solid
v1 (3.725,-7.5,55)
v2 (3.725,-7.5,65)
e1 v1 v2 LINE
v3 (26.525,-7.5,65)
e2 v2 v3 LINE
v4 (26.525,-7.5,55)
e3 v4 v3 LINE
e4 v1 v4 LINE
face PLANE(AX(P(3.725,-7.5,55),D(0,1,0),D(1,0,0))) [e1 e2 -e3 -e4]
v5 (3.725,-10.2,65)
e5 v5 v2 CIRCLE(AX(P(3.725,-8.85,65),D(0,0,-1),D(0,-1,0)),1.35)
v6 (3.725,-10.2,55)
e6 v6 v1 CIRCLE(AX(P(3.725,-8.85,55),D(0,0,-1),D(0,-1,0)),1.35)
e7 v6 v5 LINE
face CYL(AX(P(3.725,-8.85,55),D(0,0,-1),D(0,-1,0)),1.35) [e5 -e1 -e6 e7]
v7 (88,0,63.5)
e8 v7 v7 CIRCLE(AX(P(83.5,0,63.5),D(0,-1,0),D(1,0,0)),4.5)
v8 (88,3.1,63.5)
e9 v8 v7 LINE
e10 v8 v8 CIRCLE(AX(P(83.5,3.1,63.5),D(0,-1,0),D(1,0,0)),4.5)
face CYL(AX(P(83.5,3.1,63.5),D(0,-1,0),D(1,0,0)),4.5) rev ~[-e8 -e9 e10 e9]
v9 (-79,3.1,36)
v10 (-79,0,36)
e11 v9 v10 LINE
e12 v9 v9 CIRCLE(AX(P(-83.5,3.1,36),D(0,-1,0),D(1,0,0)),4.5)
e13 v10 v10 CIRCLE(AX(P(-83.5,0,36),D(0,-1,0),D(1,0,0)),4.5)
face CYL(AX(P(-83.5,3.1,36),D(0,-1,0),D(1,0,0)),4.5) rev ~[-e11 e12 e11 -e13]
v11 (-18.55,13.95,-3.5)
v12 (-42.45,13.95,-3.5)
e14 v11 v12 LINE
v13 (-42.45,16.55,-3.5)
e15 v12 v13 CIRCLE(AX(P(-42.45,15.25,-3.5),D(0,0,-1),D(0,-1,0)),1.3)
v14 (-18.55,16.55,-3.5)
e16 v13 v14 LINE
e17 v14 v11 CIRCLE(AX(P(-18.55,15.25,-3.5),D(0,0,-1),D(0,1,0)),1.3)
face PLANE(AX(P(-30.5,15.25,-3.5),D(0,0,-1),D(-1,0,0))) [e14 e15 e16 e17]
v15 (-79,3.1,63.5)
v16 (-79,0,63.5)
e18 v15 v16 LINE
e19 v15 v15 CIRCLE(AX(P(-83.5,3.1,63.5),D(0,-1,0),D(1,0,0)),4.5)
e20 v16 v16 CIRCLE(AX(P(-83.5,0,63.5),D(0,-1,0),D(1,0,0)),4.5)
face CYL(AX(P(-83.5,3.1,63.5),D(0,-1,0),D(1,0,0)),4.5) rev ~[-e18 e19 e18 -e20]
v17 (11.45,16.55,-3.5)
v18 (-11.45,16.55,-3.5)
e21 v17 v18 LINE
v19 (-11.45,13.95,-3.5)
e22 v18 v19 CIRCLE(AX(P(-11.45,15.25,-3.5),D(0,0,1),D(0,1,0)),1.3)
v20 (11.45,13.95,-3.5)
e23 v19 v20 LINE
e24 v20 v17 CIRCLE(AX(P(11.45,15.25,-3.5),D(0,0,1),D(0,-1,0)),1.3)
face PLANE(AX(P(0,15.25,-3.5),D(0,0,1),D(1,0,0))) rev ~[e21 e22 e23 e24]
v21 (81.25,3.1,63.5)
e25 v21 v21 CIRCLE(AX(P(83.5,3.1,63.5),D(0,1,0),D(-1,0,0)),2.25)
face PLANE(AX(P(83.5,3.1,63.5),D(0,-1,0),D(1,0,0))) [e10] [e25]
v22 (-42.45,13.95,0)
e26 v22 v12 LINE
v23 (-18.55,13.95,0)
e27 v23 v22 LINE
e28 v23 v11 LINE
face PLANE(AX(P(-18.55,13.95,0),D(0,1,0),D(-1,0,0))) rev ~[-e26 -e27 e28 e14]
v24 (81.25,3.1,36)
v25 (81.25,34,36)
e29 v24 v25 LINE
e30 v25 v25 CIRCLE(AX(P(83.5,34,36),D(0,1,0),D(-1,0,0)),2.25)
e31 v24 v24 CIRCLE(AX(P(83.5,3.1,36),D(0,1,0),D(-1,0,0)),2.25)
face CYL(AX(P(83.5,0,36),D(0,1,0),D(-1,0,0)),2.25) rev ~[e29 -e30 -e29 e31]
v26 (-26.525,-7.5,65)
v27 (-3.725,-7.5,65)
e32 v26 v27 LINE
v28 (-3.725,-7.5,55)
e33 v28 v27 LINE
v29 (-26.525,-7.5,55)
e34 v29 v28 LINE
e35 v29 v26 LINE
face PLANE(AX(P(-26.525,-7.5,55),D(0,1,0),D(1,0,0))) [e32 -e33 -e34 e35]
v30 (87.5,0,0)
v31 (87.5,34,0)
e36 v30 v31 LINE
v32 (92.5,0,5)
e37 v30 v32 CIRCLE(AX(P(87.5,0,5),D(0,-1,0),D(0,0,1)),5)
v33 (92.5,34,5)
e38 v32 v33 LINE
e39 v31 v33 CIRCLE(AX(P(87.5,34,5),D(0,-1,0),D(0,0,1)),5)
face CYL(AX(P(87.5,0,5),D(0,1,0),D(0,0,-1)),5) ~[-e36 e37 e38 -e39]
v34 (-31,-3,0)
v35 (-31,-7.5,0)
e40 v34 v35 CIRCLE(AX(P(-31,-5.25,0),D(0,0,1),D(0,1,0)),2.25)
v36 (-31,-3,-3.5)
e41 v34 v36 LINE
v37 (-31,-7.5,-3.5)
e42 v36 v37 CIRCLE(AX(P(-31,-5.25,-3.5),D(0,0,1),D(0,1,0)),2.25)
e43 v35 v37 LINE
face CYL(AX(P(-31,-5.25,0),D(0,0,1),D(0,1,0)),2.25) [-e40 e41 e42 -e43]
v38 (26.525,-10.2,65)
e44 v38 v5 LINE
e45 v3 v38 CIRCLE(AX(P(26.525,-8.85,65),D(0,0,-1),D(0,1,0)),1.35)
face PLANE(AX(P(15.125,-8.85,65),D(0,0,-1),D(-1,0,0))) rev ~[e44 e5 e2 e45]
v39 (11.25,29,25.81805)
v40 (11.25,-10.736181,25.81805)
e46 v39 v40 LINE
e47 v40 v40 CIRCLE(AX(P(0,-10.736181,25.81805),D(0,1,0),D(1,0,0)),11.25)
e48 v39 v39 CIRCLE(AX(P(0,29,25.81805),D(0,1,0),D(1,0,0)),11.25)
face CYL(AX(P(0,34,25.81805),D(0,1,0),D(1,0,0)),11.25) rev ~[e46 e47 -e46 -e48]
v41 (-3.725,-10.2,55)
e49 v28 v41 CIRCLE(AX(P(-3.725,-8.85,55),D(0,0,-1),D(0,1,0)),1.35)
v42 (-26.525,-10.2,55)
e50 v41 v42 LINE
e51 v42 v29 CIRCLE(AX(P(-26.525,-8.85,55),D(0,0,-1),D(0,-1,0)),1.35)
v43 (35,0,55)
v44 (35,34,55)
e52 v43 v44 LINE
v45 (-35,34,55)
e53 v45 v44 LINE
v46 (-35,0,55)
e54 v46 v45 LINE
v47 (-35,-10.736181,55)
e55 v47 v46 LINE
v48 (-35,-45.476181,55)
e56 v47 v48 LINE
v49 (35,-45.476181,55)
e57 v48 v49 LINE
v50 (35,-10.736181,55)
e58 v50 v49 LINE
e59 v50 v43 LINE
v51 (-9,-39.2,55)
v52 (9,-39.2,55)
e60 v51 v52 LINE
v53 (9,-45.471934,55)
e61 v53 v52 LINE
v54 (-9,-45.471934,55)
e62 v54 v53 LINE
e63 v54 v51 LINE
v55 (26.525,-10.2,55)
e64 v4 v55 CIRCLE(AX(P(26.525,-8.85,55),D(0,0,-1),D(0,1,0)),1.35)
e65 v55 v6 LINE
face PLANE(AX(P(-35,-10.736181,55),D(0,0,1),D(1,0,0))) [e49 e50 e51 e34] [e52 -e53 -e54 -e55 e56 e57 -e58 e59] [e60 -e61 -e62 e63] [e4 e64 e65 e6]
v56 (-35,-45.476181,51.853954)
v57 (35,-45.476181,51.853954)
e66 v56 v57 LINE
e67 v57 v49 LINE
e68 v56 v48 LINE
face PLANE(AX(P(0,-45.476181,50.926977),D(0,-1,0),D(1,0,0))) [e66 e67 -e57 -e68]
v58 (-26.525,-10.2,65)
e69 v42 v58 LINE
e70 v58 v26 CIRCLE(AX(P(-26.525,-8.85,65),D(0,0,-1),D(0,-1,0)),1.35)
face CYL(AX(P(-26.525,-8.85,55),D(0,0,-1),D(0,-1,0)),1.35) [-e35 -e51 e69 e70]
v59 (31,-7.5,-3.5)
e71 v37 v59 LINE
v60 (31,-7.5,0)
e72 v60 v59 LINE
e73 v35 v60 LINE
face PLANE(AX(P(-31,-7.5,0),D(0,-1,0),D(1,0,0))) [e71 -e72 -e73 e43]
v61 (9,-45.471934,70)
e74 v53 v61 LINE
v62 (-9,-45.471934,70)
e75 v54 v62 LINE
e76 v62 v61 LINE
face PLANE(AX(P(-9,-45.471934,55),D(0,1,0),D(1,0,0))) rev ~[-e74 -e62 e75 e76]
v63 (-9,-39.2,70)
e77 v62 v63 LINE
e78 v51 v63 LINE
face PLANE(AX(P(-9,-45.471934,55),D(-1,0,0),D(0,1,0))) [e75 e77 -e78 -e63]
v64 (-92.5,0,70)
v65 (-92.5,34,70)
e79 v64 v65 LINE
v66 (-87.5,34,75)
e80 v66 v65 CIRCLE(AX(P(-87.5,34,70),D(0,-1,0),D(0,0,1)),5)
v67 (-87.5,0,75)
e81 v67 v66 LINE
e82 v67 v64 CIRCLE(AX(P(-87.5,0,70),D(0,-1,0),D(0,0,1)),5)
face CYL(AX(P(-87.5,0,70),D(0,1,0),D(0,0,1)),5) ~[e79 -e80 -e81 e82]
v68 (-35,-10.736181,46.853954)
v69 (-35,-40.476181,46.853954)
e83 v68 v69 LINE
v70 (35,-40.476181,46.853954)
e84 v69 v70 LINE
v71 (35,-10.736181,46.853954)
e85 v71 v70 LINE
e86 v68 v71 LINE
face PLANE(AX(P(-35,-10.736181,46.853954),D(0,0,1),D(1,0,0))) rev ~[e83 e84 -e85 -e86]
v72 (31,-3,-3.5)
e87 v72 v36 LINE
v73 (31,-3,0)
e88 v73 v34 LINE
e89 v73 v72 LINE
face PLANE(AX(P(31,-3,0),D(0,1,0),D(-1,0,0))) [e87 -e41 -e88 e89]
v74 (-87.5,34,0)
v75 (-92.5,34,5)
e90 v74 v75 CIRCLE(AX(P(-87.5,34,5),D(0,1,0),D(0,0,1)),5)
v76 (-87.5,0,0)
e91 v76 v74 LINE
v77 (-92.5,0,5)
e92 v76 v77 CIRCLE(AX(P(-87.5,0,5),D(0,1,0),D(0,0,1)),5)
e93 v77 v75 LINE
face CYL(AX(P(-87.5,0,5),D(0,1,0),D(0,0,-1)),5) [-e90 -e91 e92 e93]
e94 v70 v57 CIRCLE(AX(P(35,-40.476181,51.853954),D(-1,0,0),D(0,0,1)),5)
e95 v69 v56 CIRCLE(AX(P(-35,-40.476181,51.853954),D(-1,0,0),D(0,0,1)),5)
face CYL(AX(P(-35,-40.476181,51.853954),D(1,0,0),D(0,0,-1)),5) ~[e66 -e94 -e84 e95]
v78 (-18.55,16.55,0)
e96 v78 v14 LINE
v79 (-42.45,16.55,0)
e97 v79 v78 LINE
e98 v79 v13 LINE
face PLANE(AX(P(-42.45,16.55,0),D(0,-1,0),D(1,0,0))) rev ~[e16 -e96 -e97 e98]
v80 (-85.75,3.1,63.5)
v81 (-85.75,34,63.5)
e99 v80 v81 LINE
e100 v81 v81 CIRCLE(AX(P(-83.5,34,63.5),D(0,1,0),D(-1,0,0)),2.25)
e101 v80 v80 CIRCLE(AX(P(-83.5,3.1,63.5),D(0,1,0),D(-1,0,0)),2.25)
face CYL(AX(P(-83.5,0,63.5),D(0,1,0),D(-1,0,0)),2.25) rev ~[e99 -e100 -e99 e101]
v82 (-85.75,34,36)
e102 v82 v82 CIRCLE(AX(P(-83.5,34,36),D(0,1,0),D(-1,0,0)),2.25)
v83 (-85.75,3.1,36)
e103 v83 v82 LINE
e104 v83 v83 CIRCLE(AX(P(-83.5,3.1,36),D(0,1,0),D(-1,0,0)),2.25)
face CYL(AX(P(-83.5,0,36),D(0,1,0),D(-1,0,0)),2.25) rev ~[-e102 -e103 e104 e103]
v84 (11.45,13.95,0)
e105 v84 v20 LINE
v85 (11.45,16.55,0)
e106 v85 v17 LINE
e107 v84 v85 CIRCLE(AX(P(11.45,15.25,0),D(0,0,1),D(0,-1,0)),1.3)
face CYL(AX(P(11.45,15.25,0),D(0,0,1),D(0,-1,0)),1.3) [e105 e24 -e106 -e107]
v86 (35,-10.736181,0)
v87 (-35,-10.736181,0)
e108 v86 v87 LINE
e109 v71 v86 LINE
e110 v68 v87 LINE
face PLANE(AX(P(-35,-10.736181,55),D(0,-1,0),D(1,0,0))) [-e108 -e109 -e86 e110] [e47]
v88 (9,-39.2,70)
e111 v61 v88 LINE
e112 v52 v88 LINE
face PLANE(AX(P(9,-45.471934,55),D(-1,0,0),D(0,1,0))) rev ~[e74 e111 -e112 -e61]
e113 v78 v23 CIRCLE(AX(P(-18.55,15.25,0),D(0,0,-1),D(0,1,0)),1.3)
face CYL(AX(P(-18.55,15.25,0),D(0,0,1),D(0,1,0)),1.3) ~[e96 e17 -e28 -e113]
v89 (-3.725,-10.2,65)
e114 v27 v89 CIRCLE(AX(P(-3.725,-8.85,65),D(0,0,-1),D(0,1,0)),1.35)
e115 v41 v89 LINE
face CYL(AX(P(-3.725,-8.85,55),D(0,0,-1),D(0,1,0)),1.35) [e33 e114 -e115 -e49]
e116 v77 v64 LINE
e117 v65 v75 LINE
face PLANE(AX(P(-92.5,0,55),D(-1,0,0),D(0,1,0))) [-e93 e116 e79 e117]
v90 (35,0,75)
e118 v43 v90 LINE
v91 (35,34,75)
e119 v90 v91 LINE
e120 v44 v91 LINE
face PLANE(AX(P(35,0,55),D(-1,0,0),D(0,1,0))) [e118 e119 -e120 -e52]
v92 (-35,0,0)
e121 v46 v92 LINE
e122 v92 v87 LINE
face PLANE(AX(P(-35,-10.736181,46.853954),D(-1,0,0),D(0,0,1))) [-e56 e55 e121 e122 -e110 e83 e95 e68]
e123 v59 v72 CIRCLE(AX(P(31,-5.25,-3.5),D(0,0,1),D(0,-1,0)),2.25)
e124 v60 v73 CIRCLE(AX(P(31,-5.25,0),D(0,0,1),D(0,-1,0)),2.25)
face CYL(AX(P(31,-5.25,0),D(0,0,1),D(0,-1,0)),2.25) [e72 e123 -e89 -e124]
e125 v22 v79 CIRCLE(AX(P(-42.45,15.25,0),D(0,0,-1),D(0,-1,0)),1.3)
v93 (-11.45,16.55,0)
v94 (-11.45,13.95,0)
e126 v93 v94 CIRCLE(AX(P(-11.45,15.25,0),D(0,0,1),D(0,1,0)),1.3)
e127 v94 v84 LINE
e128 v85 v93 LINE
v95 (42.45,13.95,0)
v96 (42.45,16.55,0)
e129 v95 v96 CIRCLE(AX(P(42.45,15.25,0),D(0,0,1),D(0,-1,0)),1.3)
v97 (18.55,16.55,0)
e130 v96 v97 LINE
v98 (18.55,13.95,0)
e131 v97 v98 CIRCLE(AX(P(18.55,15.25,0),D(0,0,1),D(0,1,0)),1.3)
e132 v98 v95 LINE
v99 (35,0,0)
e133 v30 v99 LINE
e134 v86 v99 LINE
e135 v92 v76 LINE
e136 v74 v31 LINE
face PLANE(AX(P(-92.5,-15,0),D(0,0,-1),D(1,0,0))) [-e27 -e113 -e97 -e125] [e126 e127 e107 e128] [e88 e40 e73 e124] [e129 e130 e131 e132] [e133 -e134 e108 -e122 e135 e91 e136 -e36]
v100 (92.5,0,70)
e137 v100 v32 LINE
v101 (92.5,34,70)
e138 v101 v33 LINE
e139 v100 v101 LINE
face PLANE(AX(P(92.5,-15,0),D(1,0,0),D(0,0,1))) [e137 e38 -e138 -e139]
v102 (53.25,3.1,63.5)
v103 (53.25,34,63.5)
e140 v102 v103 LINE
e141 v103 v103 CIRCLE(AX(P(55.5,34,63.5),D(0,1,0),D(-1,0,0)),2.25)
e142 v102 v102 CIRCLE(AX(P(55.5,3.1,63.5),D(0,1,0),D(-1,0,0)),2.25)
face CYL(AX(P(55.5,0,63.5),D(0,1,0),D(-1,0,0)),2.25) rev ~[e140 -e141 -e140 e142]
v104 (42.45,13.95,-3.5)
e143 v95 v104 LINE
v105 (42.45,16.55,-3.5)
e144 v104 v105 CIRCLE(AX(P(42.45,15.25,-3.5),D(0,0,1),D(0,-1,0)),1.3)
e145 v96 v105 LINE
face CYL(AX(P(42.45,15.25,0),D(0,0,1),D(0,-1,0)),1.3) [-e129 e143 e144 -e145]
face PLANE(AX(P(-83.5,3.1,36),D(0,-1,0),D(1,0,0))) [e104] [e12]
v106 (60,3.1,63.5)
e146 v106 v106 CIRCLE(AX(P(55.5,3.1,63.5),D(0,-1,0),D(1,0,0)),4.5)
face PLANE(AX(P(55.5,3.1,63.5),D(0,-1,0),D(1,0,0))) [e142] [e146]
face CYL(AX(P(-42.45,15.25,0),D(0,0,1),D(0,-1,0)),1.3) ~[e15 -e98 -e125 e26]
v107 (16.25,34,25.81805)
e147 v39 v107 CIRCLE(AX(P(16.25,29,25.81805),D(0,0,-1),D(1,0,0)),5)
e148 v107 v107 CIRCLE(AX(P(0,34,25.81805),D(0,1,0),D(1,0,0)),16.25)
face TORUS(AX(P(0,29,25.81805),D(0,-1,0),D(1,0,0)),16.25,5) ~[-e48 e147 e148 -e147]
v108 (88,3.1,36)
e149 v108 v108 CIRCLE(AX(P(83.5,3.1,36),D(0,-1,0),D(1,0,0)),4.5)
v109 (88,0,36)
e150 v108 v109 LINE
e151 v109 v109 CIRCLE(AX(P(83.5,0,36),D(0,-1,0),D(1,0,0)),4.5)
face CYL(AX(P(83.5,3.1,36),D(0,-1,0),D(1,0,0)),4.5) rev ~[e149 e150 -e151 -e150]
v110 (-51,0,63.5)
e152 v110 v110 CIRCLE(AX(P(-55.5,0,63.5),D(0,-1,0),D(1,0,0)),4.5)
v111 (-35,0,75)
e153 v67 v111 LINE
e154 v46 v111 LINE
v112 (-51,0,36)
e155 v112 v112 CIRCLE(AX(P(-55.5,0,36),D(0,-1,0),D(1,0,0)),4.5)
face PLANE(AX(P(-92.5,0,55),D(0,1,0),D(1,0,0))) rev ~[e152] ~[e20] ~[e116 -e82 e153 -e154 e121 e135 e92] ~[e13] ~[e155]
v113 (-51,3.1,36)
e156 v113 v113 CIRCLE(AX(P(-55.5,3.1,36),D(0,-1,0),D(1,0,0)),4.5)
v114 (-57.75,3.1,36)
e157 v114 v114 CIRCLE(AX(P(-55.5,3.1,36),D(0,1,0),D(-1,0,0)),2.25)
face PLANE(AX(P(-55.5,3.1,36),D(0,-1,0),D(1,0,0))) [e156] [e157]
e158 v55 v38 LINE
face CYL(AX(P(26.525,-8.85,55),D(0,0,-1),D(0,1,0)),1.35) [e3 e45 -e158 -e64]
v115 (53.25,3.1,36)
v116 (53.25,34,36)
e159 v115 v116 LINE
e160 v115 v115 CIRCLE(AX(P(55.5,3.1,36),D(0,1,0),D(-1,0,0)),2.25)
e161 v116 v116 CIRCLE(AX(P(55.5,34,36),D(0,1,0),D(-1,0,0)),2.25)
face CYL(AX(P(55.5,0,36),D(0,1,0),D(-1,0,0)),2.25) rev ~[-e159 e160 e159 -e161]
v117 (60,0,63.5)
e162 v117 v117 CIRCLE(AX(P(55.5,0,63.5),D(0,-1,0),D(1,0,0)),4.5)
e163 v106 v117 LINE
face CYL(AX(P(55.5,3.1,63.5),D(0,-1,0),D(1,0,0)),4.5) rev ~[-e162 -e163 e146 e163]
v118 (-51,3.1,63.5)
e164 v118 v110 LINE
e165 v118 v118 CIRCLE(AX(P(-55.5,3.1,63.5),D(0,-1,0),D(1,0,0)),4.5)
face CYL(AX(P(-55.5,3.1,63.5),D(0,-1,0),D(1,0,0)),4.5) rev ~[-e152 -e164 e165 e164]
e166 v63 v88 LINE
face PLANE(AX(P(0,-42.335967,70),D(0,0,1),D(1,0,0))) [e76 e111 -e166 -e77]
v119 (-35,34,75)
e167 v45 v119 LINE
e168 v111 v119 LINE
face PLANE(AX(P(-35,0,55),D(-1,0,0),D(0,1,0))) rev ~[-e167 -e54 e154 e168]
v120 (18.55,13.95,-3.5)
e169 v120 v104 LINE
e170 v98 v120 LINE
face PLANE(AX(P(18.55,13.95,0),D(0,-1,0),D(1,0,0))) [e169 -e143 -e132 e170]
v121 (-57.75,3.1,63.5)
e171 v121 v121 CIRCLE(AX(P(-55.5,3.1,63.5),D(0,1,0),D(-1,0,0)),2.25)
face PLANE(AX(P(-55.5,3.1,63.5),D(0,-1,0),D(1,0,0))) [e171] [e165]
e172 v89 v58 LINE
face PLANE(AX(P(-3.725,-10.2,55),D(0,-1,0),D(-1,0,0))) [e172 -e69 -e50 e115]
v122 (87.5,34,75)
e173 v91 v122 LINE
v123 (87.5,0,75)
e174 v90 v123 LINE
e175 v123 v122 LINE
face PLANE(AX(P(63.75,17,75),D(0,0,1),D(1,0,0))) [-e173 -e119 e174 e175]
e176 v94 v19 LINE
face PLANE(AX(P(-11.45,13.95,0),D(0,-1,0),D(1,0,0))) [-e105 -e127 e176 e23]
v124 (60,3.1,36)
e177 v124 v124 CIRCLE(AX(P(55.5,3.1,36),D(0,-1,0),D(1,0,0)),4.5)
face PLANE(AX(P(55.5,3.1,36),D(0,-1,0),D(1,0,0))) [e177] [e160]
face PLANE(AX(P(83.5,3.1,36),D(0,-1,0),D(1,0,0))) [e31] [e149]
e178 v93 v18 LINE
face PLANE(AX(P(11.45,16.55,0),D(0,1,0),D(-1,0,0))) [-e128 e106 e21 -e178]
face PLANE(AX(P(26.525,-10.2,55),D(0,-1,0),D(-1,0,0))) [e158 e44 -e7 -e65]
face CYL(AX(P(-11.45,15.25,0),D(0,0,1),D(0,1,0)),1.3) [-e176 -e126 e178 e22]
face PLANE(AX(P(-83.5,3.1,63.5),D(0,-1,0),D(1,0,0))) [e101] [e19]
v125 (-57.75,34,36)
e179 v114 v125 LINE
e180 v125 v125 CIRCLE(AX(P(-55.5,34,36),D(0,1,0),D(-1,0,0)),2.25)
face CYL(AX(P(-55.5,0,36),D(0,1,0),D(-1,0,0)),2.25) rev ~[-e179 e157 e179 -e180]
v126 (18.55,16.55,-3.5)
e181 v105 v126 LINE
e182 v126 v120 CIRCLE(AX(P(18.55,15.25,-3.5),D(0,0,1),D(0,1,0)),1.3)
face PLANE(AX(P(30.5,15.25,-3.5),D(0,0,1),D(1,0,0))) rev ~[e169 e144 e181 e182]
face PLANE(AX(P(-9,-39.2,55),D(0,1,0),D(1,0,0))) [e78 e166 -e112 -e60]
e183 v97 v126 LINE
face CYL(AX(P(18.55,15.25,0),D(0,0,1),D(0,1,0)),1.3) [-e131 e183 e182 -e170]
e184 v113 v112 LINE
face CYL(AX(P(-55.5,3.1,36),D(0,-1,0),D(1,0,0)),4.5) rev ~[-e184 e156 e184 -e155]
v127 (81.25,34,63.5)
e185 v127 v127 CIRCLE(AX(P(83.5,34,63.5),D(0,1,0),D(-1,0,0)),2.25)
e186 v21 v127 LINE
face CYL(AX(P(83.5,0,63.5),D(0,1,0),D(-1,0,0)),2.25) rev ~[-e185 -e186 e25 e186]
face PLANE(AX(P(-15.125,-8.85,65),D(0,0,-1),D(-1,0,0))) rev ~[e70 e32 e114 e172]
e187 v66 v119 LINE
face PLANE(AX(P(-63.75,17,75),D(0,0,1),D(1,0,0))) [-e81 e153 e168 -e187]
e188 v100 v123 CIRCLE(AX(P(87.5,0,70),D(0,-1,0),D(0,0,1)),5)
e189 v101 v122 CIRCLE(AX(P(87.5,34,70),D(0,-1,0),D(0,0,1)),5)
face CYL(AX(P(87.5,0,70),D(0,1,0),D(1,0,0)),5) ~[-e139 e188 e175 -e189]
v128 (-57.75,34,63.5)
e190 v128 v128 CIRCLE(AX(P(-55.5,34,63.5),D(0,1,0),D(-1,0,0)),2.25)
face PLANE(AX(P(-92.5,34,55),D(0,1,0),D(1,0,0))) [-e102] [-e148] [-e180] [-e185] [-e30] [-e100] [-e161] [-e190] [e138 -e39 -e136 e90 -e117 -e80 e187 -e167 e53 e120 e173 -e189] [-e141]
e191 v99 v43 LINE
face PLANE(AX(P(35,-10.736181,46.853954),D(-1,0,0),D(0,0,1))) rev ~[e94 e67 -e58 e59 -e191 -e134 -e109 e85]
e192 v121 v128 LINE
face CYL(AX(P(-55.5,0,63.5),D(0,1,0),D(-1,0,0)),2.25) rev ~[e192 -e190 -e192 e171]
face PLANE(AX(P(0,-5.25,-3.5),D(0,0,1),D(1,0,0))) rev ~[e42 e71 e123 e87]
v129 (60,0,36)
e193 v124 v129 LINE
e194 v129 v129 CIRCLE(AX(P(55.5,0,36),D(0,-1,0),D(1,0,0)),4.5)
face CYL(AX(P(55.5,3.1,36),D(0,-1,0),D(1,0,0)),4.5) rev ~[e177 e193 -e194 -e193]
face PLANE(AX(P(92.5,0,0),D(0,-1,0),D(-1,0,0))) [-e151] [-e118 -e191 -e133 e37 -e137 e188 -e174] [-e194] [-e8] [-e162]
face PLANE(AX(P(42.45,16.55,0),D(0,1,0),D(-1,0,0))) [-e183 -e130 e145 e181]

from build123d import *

# Parameters (mm, degrees)
SKETCH1_W                                        = 185
SKETCH1_H                                        = 55
BOSS_EXTRUDE1_DEPTH                              = 49
BOSS_EXTRUDE2_DEPTH                              = 10
SKETCH4_W                                        = 57.5
SKETCH4_H                                        = 15
CUT_EXTRUDE2_DEPTH                               = 66
SKETCH5_W                                        = 57.5
SKETCH5_H                                        = 15
CUT_EXTRUDE3_DEPTH                               = 56
BOSS_EXTRUDE3_DEPTH                              = 10
BOSS_EXTRUDE4_DEPTH                              = 3.5
BOSS_EXTRUDE7_DEPTH                              = 3.5
BOSS_EXTRUDE8_DEPTH                              = 3.5
SKETCH14_W                                       = 70
SKETCH14_H                                       = 4.263818571
CUT_EXTRUDE5_DEPTH                               = 59.5
SKETCH15_W                                       = 57.5
SKETCH15_H                                       = 34
BOSS_EXTRUDE9_DEPTH                              = 20
CBORE_FOR_M4_PAN_HEAD_MACHINE_SCREW1_D           = 4.5
CBORE_FOR_M4_PAN_HEAD_MACHINE_SCREW1_CBORE_D     = 9
CBORE_FOR_M4_PAN_HEAD_MACHINE_SCREW1_CBORE_DEPTH = 3.1
SKETCH19_W                                       = 70
SKETCH19_H                                       = 8.146045787
BOSS_EXTRUDE10_DEPTH                             = 34.74
SKETCH20_W                                       = 18
SKETCH20_H                                       = 6.271934352
BOSS_EXTRUDE11_DEPTH                             = 15
FILLET1_R                                        = 5
SKETCH21_R                                       = 11.25
CUT_EXTRUDE6_DEPTH                               = 80.476181429
FILLET2_R                                        = 5


with BuildPart() as part:
    # Sketch1 → Boss-Extrude1 (new body)
    with BuildSketch(Plane.XZ.offset(15)):
        with Locations((0, 27.5)):
            Rectangle(SKETCH1_W, SKETCH1_H)
    extrude(amount=-BOSS_EXTRUDE1_DEPTH)

    # Sketch2 → Boss-Extrude2 (add)
    with BuildSketch(Plane.XY.offset(55)):
        with BuildLine():
            Line((26.525, -10.2), (3.725, -10.2))
            ThreePointArc((3.725, -10.2), (2.375, -8.85), (3.725, -7.5))
            Line((3.725, -7.5), (26.525, -7.5))
            ThreePointArc((26.525, -7.5), (27.875, -8.85), (26.525, -10.2))
        make_face()
    extrude(amount=BOSS_EXTRUDE2_DEPTH)

    # Sketch4 → Cut-Extrude2 (cut, through all)
    with BuildSketch(Plane(origin=(0, 0, 0), x_dir=(-1, 0, 0), z_dir=(0, 0, -1))):
        with Locations((-63.75, -7.5)):
            Rectangle(SKETCH4_W, SKETCH4_H)
    extrude(amount=-CUT_EXTRUDE2_DEPTH, mode=Mode.SUBTRACT)

    # Sketch5 → Cut-Extrude3 (cut, through all)
    with BuildSketch(Plane.XY.offset(55)):
        with Locations((-63.75, -7.5)):
            Rectangle(SKETCH5_W, SKETCH5_H)
    extrude(amount=-CUT_EXTRUDE3_DEPTH, mode=Mode.SUBTRACT)

    # Sketch6 → Boss-Extrude3 (add)
    with BuildSketch(Plane.XY.offset(55)):
        with BuildLine():
            Line((-26.525, -7.5), (-3.725, -7.5))
            ThreePointArc((-3.725, -7.5), (-2.375, -8.85), (-3.725, -10.2))
            Line((-3.725, -10.2), (-26.525, -10.2))
            ThreePointArc((-26.525, -10.2), (-27.875, -8.85), (-26.525, -7.5))
        make_face()
    extrude(amount=BOSS_EXTRUDE3_DEPTH)

    # Sketch8 → Boss-Extrude4 (add)
    with BuildSketch(Plane(origin=(0, 0, 0), x_dir=(-1, 0, 0), z_dir=(0, 0, -1))):
        with BuildLine():
            Line((-11.45, 16.55), (11.45, 16.55))
            ThreePointArc((11.45, 16.55), (12.75, 15.25), (11.45, 13.95))
            Line((11.45, 13.95), (-11.45, 13.95))
            ThreePointArc((-11.45, 13.95), (-12.75, 15.25), (-11.45, 16.55))
        make_face()
    extrude(amount=BOSS_EXTRUDE4_DEPTH)

    # Sketch11 → Boss-Extrude7 (add)
    with BuildSketch(Plane(origin=(0, 0, 0), x_dir=(-1, 0, 0), z_dir=(0, 0, -1))):
        with BuildLine():
            Line((-31, -3), (31, -3))
            ThreePointArc((31, -3), (33.25, -5.25), (31, -7.5))
            Line((31, -7.5), (-31, -7.5))
            ThreePointArc((-31, -7.5), (-33.25, -5.25), (-31, -3))
        make_face()
    extrude(amount=BOSS_EXTRUDE7_DEPTH)

    # Sketch10 → Boss-Extrude8 (add)
    with BuildSketch(Plane(origin=(0, 0, 0), x_dir=(-1, 0, 0), z_dir=(0, 0, -1))):
        with BuildLine():
            Line((-18.55, 13.95), (-42.45, 13.95))
            ThreePointArc((-42.45, 13.95), (-43.75, 15.25), (-42.45, 16.55))
            Line((-42.45, 16.55), (-18.55, 16.55))
            ThreePointArc((-18.55, 16.55), (-17.25, 15.25), (-18.55, 13.95))
        make_face()
        with BuildLine():
            Line((42.45, 16.55), (18.55, 16.55))
            ThreePointArc((18.55, 16.55), (17.25, 15.25), (18.55, 13.95))
            Line((18.55, 13.95), (42.45, 13.95))
            ThreePointArc((42.45, 13.95), (43.75, 15.25), (42.45, 16.55))
        make_face()
    extrude(amount=BOSS_EXTRUDE8_DEPTH)

    # Sketch14 → Cut-Extrude5 (cut, through all)
    with BuildSketch(Plane.XY.offset(55)):
        with Locations((0, -12.868090715)):
            Rectangle(SKETCH14_W, SKETCH14_H)
    extrude(amount=-CUT_EXTRUDE5_DEPTH, mode=Mode.SUBTRACT)

    # Sketch15 → Boss-Extrude9 (add)
    with BuildSketch(Plane.XY.offset(55)):
        with Locations((-63.75, 17)):
            Rectangle(SKETCH15_W, SKETCH15_H)
        with Locations((63.75, 17)):
            Rectangle(SKETCH15_W, SKETCH15_H)
    extrude(amount=BOSS_EXTRUDE9_DEPTH)

    # CBORE for M4 Pan Head Machine Screw1 (through all)
    with Locations(Plane.XZ):
        with Locations((-55.5, 63.5), (-83.5, 63.5), (-83.5, 36), (-55.5, 36), (55.5, 36), (83.5, 36), (83.5, 63.5), (55.5, 63.5)):
            CounterBoreHole(CBORE_FOR_M4_PAN_HEAD_MACHINE_SCREW1_D / 2, CBORE_FOR_M4_PAN_HEAD_MACHINE_SCREW1_CBORE_D / 2, CBORE_FOR_M4_PAN_HEAD_MACHINE_SCREW1_CBORE_DEPTH)

    # Sketch19 → Boss-Extrude10 (add)
    with BuildSketch(Plane.XZ.offset(10.736181429)):
        with Locations((0, 50.926977107)):
            Rectangle(SKETCH19_W, SKETCH19_H)
    extrude(amount=BOSS_EXTRUDE10_DEPTH)

    # Sketch20 → Boss-Extrude11 (add)
    with BuildSketch(Plane.XY.offset(55)):
        with Locations((0, -42.335967176)):
            Rectangle(SKETCH20_W, SKETCH20_H)
    extrude(amount=BOSS_EXTRUDE11_DEPTH)

    # Fillet1
    fillet1_edges = [part.edges().sort_by_distance(p)[0] for p in [
        (-92.5, 17, 75),
        (92.5, 17, 75),
        (0, -45.476181429, 46.853954213),
        (92.5, 17, 0),
        (-92.5, 17, 0),
    ]]
    fillet(fillet1_edges, radius=FILLET1_R)

    # Sketch21 → Cut-Extrude6 (cut, through all)
    with BuildSketch(Plane(origin=(0, 34, 0), x_dir=(1, 0, 0), z_dir=(0, 1, 0))):
        with Locations((0, -25.818049532)):
            Circle(SKETCH21_R)
    extrude(amount=-CUT_EXTRUDE6_DEPTH, mode=Mode.SUBTRACT)

    # Fillet2
    fillet2_edges = [part.edges().sort_by_distance(p)[0] for p in [
        (-11.25, 34, 25.818049532),
    ]]
    fillet(fillet2_edges, radius=FILLET2_R)


solid = part.part
